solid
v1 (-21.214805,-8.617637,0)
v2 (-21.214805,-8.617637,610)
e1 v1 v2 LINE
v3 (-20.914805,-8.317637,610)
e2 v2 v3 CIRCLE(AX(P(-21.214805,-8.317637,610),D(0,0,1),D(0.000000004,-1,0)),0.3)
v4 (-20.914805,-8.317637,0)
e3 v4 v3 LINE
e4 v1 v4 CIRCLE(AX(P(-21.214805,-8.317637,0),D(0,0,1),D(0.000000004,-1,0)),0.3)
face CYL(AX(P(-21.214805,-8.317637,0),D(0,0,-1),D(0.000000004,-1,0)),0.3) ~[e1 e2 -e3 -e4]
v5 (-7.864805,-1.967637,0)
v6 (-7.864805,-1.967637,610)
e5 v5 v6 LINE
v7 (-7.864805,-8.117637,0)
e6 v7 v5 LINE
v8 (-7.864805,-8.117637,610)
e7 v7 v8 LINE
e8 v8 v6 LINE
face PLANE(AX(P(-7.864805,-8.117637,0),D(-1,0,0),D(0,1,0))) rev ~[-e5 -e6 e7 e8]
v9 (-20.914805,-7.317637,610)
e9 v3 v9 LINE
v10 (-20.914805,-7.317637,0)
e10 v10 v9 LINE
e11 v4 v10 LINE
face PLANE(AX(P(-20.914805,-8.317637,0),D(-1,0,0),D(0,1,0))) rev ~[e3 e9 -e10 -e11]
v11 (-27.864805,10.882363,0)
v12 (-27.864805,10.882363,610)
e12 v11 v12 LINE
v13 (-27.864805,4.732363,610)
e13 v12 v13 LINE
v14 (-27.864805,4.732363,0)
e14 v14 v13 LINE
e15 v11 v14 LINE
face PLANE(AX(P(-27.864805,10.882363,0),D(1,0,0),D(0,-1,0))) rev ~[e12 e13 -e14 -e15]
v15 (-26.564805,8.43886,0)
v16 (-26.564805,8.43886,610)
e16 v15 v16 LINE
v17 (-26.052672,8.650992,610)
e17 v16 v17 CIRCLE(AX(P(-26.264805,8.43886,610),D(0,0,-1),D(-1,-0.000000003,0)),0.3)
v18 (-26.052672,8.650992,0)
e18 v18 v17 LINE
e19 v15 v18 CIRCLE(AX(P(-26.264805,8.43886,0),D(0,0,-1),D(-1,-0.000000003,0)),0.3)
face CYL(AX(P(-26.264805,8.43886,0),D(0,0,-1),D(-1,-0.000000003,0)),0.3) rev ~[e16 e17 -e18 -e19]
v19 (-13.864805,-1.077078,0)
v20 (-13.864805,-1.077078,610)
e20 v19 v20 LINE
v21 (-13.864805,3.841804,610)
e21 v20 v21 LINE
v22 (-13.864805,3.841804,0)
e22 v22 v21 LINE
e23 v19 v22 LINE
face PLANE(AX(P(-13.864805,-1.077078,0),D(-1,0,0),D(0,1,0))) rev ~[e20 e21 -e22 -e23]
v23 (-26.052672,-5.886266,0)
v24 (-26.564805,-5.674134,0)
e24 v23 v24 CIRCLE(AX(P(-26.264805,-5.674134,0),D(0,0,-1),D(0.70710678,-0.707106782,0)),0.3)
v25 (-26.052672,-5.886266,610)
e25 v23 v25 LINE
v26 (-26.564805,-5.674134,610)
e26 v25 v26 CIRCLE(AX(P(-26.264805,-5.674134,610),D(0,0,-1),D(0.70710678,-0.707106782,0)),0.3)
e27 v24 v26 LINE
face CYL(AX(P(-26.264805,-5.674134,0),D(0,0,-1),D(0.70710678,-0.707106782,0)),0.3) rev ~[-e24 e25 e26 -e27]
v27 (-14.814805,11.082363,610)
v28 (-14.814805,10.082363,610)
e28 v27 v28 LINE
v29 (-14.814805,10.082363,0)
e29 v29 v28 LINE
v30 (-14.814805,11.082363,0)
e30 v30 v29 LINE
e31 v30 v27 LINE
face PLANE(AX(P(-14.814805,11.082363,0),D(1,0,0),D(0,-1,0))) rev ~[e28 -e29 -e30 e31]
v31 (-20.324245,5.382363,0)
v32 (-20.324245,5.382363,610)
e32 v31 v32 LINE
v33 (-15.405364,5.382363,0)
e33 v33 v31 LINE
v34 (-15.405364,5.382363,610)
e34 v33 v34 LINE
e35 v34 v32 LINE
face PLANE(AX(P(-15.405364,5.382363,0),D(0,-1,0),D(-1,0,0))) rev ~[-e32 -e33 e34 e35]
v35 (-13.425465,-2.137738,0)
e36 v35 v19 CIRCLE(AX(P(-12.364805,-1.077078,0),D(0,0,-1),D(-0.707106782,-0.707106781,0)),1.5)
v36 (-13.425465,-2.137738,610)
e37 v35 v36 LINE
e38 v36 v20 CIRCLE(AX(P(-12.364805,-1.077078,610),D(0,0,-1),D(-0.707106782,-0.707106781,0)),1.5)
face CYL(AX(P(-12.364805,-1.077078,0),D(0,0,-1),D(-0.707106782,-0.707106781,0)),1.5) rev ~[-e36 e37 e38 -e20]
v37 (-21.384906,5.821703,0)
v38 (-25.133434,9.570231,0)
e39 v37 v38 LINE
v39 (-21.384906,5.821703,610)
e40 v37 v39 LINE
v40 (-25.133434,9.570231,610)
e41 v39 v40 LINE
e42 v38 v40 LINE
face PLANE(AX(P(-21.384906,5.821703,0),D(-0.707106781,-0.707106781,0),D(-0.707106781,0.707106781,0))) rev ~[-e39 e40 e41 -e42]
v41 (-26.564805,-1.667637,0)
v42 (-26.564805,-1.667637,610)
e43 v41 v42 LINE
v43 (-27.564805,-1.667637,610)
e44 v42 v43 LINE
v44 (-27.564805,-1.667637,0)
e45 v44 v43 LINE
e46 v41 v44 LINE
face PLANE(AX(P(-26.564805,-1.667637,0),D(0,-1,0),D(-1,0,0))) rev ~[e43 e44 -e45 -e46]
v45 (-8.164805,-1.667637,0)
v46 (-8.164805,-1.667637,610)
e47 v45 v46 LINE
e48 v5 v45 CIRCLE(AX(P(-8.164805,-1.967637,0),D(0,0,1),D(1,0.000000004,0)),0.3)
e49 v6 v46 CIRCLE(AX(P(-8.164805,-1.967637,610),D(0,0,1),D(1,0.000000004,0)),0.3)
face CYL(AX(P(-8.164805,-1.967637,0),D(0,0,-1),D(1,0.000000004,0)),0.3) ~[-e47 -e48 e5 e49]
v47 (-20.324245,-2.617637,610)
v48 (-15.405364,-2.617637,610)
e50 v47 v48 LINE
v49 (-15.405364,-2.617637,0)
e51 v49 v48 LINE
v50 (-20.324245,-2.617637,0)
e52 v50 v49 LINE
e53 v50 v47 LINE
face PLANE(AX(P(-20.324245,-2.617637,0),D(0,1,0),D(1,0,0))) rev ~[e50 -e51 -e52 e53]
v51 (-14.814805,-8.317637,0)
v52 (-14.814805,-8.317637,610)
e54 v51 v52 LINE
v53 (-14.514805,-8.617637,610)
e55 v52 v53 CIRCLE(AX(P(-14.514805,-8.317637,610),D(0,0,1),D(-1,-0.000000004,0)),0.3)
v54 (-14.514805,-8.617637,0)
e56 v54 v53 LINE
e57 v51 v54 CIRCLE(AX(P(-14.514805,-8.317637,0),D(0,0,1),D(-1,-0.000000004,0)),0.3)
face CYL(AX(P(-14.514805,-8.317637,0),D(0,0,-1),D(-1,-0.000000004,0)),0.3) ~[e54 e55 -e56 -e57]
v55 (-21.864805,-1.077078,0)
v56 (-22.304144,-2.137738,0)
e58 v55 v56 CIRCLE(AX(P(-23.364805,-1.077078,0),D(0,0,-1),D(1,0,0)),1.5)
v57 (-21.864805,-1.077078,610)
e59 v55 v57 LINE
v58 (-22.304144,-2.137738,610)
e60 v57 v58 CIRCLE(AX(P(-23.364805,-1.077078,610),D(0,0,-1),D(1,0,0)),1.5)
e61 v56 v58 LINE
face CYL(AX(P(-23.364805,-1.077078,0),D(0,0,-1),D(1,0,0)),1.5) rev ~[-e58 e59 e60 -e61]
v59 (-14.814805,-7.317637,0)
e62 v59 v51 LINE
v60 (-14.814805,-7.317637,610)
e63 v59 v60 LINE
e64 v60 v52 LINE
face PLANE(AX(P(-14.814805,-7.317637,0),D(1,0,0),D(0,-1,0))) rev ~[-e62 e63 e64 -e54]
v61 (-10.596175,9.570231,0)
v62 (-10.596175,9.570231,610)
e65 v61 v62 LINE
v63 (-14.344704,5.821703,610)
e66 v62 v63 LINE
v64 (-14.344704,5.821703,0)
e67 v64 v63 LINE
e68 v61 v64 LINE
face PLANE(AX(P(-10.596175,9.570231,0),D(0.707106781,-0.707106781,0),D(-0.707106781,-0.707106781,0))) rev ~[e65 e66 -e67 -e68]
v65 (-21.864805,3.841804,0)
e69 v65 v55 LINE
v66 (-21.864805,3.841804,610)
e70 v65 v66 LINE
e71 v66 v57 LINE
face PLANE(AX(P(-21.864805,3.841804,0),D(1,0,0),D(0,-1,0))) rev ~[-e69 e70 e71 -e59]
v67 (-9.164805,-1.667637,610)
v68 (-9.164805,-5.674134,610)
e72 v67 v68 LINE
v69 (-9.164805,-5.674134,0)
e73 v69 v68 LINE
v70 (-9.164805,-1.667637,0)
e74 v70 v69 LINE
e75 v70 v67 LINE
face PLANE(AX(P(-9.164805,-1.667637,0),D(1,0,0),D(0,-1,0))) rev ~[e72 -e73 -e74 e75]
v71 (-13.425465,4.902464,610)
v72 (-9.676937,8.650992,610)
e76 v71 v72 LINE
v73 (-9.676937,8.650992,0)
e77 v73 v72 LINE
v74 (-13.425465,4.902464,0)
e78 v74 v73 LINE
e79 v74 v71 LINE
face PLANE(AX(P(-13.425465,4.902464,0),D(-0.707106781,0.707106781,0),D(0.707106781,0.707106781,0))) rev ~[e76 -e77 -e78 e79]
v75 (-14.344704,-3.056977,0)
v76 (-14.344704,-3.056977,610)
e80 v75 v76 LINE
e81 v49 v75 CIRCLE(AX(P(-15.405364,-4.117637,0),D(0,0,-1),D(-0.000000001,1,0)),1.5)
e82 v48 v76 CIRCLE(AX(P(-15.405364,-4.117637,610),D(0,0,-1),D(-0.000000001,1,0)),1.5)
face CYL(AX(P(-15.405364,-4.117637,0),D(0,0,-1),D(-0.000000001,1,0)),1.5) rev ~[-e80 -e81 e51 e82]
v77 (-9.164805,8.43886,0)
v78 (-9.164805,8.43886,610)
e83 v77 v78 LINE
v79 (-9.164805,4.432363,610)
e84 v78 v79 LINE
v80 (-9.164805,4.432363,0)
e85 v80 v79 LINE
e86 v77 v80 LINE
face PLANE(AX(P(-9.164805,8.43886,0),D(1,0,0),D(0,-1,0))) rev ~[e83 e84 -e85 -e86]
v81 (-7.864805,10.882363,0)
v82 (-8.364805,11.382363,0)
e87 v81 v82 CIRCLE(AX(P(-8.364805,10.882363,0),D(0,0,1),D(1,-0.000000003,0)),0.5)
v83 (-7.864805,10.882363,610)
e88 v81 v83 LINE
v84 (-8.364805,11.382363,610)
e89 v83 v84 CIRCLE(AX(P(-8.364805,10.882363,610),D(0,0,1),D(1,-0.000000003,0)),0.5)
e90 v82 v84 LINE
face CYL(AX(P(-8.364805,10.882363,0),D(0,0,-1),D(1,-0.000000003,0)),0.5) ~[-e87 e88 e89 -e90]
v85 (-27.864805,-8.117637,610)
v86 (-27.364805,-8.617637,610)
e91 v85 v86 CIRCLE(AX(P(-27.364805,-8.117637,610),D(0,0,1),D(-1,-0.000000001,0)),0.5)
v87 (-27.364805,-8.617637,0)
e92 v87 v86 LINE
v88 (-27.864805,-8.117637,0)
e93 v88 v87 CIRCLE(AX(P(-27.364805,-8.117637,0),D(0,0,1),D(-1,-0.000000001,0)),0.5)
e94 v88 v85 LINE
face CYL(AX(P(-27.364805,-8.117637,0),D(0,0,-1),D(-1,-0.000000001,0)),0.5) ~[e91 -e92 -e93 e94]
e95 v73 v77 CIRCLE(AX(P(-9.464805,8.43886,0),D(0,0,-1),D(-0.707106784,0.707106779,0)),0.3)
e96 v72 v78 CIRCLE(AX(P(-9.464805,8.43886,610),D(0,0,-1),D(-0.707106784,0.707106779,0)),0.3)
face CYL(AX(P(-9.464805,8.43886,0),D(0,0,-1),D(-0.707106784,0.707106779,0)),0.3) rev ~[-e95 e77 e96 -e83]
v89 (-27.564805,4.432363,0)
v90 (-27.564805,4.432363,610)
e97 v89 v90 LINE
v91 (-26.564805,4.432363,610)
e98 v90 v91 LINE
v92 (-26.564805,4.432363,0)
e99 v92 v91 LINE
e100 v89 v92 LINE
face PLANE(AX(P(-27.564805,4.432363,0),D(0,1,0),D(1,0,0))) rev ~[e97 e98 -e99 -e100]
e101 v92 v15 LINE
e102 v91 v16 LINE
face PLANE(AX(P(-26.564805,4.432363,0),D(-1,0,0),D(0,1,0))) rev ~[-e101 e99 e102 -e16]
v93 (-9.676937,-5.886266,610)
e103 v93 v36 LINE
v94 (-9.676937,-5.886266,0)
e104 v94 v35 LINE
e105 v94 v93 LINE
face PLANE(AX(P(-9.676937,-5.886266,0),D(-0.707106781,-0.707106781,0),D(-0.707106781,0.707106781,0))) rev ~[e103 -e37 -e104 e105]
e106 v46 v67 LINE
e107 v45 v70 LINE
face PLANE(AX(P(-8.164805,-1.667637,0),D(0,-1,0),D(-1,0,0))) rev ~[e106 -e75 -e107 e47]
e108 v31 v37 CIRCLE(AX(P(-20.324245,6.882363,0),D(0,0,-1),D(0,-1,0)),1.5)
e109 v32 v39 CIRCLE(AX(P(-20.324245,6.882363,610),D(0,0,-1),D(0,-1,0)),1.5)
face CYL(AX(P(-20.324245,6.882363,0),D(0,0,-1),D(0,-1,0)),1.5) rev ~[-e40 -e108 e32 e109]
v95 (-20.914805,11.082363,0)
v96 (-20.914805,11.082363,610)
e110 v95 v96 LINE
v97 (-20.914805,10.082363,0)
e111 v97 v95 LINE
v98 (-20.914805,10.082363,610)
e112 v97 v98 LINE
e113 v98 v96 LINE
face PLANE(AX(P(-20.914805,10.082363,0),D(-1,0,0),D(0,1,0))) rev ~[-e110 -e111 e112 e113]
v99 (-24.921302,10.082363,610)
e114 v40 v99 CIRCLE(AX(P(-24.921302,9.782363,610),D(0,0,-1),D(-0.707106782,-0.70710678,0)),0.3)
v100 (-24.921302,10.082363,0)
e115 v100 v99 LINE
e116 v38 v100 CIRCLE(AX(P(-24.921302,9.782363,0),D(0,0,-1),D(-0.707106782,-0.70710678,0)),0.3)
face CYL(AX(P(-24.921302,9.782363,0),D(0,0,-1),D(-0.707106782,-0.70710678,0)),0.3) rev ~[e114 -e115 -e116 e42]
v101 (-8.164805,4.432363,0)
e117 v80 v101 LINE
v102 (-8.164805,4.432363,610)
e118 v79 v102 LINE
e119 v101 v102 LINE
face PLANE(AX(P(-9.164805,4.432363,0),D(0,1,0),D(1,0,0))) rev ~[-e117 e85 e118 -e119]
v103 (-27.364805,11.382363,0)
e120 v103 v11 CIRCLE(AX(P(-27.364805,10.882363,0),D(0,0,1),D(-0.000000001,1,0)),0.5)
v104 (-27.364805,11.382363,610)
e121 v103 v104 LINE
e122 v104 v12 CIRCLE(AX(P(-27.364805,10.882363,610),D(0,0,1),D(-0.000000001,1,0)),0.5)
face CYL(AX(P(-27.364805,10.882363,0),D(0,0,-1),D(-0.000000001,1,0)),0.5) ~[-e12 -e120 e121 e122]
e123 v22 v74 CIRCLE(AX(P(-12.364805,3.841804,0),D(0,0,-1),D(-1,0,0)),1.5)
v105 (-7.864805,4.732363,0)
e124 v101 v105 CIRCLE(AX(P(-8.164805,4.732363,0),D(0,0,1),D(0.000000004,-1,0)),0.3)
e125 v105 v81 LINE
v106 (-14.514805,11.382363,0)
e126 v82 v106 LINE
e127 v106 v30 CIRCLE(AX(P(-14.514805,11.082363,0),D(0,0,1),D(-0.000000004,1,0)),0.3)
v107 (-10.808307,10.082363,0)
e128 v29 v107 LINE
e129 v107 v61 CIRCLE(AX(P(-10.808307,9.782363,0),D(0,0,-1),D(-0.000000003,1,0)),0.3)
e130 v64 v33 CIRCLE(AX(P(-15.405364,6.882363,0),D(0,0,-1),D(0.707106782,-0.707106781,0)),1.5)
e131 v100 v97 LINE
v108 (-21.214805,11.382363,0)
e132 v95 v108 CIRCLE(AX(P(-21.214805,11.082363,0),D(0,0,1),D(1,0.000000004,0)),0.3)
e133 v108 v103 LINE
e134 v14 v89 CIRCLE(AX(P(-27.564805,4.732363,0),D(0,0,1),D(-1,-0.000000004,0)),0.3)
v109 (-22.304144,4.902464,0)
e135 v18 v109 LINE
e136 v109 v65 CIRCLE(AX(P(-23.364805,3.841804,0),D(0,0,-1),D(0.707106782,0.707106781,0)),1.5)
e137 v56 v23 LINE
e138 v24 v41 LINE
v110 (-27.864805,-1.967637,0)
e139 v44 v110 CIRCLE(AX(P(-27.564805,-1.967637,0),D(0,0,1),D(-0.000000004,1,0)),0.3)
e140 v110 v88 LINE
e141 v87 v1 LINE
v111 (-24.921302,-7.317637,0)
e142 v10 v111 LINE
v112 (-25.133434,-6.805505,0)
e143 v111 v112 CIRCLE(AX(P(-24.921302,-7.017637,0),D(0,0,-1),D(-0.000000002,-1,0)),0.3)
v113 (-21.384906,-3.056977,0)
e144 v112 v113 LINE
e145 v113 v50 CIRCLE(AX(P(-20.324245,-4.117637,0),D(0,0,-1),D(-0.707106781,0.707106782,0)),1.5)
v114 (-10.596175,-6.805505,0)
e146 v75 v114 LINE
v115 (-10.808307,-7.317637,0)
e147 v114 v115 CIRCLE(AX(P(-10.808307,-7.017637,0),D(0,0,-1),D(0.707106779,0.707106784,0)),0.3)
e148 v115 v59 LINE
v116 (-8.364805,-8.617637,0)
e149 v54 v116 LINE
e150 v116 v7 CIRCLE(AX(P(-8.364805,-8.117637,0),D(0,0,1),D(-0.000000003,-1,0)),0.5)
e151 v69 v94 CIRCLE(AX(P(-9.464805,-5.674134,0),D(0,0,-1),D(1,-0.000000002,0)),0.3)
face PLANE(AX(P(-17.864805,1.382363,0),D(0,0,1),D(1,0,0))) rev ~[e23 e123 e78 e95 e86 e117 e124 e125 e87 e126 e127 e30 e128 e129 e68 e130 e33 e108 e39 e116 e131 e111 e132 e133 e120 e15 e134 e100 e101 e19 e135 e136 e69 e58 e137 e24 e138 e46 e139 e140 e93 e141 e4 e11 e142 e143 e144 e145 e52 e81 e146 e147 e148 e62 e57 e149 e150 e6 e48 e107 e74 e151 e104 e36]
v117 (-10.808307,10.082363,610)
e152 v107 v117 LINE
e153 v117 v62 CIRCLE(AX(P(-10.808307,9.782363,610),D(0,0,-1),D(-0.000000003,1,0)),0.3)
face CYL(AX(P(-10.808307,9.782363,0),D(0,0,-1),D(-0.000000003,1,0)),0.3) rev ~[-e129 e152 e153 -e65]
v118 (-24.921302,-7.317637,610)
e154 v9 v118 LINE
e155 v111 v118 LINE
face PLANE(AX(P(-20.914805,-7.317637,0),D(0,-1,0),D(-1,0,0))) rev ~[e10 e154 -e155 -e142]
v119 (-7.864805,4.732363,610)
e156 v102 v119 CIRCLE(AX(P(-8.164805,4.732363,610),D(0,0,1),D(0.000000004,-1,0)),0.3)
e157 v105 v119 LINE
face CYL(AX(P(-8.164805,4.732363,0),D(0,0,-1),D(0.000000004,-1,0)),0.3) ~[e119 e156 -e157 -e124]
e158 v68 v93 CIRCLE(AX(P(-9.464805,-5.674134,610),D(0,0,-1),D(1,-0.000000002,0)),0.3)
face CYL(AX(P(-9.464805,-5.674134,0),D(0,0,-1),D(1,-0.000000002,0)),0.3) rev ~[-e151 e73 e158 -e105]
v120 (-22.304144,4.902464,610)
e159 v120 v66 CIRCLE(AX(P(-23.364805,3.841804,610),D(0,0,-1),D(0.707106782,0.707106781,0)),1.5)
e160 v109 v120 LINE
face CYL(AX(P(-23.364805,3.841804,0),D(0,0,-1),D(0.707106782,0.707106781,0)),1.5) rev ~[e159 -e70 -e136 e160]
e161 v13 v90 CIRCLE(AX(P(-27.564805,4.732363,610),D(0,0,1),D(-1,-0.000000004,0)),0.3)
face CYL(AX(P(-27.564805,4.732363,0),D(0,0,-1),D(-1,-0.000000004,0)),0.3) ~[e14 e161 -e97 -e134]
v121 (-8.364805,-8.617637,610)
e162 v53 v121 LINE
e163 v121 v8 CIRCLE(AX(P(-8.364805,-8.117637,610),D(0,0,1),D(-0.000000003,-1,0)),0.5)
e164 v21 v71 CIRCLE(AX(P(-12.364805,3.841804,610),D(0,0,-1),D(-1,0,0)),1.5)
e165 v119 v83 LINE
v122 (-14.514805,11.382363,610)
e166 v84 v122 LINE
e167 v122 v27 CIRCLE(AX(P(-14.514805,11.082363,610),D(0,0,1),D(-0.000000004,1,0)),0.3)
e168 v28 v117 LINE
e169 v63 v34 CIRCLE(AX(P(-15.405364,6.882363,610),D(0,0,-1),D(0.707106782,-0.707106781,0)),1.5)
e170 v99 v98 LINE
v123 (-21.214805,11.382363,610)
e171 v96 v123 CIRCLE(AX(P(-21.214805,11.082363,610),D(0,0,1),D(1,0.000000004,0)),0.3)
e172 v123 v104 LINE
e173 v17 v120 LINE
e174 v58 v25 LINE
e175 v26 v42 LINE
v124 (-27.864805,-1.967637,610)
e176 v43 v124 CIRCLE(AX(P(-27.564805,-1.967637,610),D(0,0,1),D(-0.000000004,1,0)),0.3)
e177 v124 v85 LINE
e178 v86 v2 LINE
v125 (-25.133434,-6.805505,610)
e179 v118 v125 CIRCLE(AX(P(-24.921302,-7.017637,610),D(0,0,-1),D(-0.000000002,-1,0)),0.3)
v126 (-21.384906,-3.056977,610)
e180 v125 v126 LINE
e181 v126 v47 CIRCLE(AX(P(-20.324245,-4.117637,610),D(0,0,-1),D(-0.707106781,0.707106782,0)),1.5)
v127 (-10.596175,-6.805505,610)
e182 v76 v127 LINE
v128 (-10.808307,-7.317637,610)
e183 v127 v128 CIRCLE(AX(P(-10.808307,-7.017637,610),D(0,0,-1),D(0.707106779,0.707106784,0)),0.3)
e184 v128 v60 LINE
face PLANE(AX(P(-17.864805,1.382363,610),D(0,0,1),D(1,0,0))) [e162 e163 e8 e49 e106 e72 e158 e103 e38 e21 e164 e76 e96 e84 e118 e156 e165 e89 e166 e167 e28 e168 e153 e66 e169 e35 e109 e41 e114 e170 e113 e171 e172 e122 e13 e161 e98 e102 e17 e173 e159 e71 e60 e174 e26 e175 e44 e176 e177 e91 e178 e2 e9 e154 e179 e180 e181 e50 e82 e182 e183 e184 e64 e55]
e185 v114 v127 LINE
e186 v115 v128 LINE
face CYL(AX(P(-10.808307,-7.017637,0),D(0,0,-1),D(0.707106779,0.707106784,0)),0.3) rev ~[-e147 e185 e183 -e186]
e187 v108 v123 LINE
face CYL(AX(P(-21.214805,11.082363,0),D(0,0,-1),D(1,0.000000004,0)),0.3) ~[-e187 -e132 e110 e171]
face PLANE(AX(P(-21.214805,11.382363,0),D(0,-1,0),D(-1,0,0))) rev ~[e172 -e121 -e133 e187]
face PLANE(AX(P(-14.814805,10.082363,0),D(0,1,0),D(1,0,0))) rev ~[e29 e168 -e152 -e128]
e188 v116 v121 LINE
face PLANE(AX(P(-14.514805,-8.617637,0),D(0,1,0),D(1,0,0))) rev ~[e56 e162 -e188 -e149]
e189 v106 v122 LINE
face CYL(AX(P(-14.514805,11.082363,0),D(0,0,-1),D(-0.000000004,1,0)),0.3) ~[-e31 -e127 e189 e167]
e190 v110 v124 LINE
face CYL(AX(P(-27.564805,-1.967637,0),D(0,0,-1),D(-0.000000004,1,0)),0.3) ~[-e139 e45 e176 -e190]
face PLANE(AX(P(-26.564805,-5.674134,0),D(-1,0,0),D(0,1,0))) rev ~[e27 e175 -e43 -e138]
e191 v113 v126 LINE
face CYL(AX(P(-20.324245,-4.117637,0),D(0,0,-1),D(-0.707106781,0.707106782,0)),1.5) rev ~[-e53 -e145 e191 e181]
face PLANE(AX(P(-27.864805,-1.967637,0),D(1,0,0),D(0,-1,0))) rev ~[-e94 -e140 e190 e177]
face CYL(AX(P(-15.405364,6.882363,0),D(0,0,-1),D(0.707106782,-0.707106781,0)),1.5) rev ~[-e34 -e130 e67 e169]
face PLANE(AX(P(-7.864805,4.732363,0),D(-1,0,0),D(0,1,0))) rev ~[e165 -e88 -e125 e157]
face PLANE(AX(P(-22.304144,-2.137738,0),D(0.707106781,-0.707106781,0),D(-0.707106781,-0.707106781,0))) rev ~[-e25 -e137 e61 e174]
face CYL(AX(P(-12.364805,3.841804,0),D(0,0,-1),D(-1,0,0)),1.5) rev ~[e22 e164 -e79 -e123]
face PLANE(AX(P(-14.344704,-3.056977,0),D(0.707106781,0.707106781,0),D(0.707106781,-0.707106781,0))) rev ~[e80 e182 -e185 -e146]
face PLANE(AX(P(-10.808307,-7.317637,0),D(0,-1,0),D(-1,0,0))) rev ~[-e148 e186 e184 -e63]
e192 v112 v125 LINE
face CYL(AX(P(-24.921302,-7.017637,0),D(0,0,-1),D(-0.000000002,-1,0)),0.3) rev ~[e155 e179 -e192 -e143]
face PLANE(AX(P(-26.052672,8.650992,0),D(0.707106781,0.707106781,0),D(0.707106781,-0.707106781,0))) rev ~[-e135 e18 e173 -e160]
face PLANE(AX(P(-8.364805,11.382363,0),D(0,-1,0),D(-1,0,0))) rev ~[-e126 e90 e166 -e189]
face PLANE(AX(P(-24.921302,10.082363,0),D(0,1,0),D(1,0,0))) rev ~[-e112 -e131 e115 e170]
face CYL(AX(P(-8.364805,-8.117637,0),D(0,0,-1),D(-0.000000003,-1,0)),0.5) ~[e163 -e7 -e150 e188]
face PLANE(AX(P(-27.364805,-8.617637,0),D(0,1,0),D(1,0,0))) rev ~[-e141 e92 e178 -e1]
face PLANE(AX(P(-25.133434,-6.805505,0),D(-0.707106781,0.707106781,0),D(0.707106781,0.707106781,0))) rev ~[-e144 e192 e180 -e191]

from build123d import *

# Parameters (mm, degrees)
BOSS_EXTRUDE1_DEPTH = 610


with BuildPart() as part:
    # Sketch1 → Boss-Extrude1 (new body)
    with BuildSketch(Plane.XY):
        with BuildLine():
            Line((-9.676936556, -5.886265937), (-13.425464694, -2.1377378))
            ThreePointArc((-13.425464694, -2.1377378), (-13.750623821, -1.651102776), (-13.864804522, -1.077077628))
            Line((-13.864804522, -1.077077628), (-13.864804522, 3.841804054))
            ThreePointArc((-13.864804522, 3.841804054), (-13.750623821, 4.415829202), (-13.425464694, 4.902464226))
            Line((-13.425464694, 4.902464226), (-9.676936556, 8.650992363))
            ThreePointArc((-9.676936556, 8.650992363), (-9.349999492, 8.716024189), (-9.164804522, 8.438860329))
            Line((-9.164804522, 8.438860329), (-9.164804522, 4.432363213))
            Line((-9.164804522, 4.432363213), (-8.164804522, 4.432363213))
            ThreePointArc((-8.164804522, 4.432363213), (-7.952672488, 4.520231179), (-7.864804522, 4.732363213))
            Line((-7.864804522, 4.732363213), (-7.864804522, 10.882363213))
            ThreePointArc((-7.864804522, 10.882363213), (-8.011251131, 11.235916604), (-8.364804522, 11.382363213))
            Line((-8.364804522, 11.382363213), (-14.514804522, 11.382363213))
            ThreePointArc((-14.514804522, 11.382363213), (-14.726936556, 11.294495247), (-14.814804522, 11.082363213))
            Line((-14.814804522, 11.082363213), (-14.814804522, 10.082363213))
            Line((-14.814804522, 10.082363213), (-10.808307406, 10.082363213))
            ThreePointArc((-10.808307406, 10.082363213), (-10.531143546, 9.897168243), (-10.596175372, 9.570231179))
            Line((-10.596175372, 9.570231179), (-14.344703509, 5.821703041))
            ThreePointArc((-14.344703509, 5.821703041), (-14.831338532, 5.496543914), (-15.405363681, 5.382363213))
            Line((-15.405363681, 5.382363213), (-20.324245363, 5.382363213))
            ThreePointArc((-20.324245363, 5.382363213), (-20.898270511, 5.496543914), (-21.384905535, 5.821703041))
            Line((-21.384905535, 5.821703041), (-25.133433672, 9.570231179))
            ThreePointArc((-25.133433672, 9.570231179), (-25.198465497, 9.897168243), (-24.921301638, 10.082363213))
            Line((-24.921301638, 10.082363213), (-20.914804522, 10.082363213))
            Line((-20.914804522, 10.082363213), (-20.914804522, 11.082363213))
            ThreePointArc((-20.914804522, 11.082363213), (-21.002672488, 11.294495247), (-21.214804522, 11.382363213))
            Line((-21.214804522, 11.382363213), (-27.364804522, 11.382363213))
            ThreePointArc((-27.364804522, 11.382363213), (-27.718357912, 11.235916604), (-27.864804522, 10.882363213))
            Line((-27.864804522, 10.882363213), (-27.864804522, 4.732363213))
            ThreePointArc((-27.864804522, 4.732363213), (-27.776936556, 4.520231179), (-27.564804522, 4.432363213))
            Line((-27.564804522, 4.432363213), (-26.564804522, 4.432363213))
            Line((-26.564804522, 4.432363213), (-26.564804522, 8.438860329))
            ThreePointArc((-26.564804522, 8.438860329), (-26.379609552, 8.716024189), (-26.052672488, 8.650992363))
            Line((-26.052672488, 8.650992363), (-22.30414435, 4.902464226))
            ThreePointArc((-22.30414435, 4.902464226), (-21.978985223, 4.415829202), (-21.864804522, 3.841804054))
            Line((-21.864804522, 3.841804054), (-21.864804522, -1.077077628))
            ThreePointArc((-21.864804522, -1.077077628), (-21.978985223, -1.651102776), (-22.30414435, -2.1377378))
            Line((-22.30414435, -2.1377378), (-26.052672488, -5.886265937))
            ThreePointArc((-26.052672488, -5.886265937), (-26.379609552, -5.951297762), (-26.564804522, -5.674133903))
            Line((-26.564804522, -5.674133903), (-26.564804522, -1.667636787))
            Line((-26.564804522, -1.667636787), (-27.564804522, -1.667636787))
            ThreePointArc((-27.564804522, -1.667636787), (-27.776936556, -1.755504753), (-27.864804522, -1.967636787))
            Line((-27.864804522, -1.967636787), (-27.864804522, -8.117636787))
            ThreePointArc((-27.864804522, -8.117636787), (-27.718357912, -8.471190178), (-27.364804522, -8.617636787))
            Line((-27.364804522, -8.617636787), (-21.214804522, -8.617636787))
            ThreePointArc((-21.214804522, -8.617636787), (-21.002672488, -8.529768821), (-20.914804522, -8.317636787))
            Line((-20.914804522, -8.317636787), (-20.914804522, -7.317636787))
            Line((-20.914804522, -7.317636787), (-24.921301638, -7.317636787))
            ThreePointArc((-24.921301638, -7.317636787), (-25.198465497, -7.132441817), (-25.133433672, -6.805504753))
            Line((-25.133433672, -6.805504753), (-21.384905535, -3.056976615))
            ThreePointArc((-21.384905535, -3.056976615), (-20.898270511, -2.731817488), (-20.324245363, -2.617636787))
            Line((-20.324245363, -2.617636787), (-15.405363681, -2.617636787))
            ThreePointArc((-15.405363681, -2.617636787), (-14.831338532, -2.731817488), (-14.344703509, -3.056976615))
            Line((-14.344703509, -3.056976615), (-10.596175372, -6.805504753))
            ThreePointArc((-10.596175372, -6.805504753), (-10.531143546, -7.132441817), (-10.808307406, -7.317636787))
            Line((-10.808307406, -7.317636787), (-14.814804522, -7.317636787))
            Line((-14.814804522, -7.317636787), (-14.814804522, -8.317636787))
            ThreePointArc((-14.814804522, -8.317636787), (-14.726936556, -8.529768821), (-14.514804522, -8.617636787))
            Line((-14.514804522, -8.617636787), (-8.364804522, -8.617636787))
            ThreePointArc((-8.364804522, -8.617636787), (-8.011251131, -8.471190178), (-7.864804522, -8.117636787))
            Line((-7.864804522, -8.117636787), (-7.864804522, -1.967636787))
            ThreePointArc((-7.864804522, -1.967636787), (-7.952672488, -1.755504753), (-8.164804522, -1.667636787))
            Line((-8.164804522, -1.667636787), (-9.164804522, -1.667636787))
            Line((-9.164804522, -1.667636787), (-9.164804522, -5.674133903))
            ThreePointArc((-9.164804522, -5.674133903), (-9.349999492, -5.951297762), (-9.676936556, -5.886265937))
        make_face()
    extrude(amount=BOSS_EXTRUDE1_DEPTH)


solid = part.part
